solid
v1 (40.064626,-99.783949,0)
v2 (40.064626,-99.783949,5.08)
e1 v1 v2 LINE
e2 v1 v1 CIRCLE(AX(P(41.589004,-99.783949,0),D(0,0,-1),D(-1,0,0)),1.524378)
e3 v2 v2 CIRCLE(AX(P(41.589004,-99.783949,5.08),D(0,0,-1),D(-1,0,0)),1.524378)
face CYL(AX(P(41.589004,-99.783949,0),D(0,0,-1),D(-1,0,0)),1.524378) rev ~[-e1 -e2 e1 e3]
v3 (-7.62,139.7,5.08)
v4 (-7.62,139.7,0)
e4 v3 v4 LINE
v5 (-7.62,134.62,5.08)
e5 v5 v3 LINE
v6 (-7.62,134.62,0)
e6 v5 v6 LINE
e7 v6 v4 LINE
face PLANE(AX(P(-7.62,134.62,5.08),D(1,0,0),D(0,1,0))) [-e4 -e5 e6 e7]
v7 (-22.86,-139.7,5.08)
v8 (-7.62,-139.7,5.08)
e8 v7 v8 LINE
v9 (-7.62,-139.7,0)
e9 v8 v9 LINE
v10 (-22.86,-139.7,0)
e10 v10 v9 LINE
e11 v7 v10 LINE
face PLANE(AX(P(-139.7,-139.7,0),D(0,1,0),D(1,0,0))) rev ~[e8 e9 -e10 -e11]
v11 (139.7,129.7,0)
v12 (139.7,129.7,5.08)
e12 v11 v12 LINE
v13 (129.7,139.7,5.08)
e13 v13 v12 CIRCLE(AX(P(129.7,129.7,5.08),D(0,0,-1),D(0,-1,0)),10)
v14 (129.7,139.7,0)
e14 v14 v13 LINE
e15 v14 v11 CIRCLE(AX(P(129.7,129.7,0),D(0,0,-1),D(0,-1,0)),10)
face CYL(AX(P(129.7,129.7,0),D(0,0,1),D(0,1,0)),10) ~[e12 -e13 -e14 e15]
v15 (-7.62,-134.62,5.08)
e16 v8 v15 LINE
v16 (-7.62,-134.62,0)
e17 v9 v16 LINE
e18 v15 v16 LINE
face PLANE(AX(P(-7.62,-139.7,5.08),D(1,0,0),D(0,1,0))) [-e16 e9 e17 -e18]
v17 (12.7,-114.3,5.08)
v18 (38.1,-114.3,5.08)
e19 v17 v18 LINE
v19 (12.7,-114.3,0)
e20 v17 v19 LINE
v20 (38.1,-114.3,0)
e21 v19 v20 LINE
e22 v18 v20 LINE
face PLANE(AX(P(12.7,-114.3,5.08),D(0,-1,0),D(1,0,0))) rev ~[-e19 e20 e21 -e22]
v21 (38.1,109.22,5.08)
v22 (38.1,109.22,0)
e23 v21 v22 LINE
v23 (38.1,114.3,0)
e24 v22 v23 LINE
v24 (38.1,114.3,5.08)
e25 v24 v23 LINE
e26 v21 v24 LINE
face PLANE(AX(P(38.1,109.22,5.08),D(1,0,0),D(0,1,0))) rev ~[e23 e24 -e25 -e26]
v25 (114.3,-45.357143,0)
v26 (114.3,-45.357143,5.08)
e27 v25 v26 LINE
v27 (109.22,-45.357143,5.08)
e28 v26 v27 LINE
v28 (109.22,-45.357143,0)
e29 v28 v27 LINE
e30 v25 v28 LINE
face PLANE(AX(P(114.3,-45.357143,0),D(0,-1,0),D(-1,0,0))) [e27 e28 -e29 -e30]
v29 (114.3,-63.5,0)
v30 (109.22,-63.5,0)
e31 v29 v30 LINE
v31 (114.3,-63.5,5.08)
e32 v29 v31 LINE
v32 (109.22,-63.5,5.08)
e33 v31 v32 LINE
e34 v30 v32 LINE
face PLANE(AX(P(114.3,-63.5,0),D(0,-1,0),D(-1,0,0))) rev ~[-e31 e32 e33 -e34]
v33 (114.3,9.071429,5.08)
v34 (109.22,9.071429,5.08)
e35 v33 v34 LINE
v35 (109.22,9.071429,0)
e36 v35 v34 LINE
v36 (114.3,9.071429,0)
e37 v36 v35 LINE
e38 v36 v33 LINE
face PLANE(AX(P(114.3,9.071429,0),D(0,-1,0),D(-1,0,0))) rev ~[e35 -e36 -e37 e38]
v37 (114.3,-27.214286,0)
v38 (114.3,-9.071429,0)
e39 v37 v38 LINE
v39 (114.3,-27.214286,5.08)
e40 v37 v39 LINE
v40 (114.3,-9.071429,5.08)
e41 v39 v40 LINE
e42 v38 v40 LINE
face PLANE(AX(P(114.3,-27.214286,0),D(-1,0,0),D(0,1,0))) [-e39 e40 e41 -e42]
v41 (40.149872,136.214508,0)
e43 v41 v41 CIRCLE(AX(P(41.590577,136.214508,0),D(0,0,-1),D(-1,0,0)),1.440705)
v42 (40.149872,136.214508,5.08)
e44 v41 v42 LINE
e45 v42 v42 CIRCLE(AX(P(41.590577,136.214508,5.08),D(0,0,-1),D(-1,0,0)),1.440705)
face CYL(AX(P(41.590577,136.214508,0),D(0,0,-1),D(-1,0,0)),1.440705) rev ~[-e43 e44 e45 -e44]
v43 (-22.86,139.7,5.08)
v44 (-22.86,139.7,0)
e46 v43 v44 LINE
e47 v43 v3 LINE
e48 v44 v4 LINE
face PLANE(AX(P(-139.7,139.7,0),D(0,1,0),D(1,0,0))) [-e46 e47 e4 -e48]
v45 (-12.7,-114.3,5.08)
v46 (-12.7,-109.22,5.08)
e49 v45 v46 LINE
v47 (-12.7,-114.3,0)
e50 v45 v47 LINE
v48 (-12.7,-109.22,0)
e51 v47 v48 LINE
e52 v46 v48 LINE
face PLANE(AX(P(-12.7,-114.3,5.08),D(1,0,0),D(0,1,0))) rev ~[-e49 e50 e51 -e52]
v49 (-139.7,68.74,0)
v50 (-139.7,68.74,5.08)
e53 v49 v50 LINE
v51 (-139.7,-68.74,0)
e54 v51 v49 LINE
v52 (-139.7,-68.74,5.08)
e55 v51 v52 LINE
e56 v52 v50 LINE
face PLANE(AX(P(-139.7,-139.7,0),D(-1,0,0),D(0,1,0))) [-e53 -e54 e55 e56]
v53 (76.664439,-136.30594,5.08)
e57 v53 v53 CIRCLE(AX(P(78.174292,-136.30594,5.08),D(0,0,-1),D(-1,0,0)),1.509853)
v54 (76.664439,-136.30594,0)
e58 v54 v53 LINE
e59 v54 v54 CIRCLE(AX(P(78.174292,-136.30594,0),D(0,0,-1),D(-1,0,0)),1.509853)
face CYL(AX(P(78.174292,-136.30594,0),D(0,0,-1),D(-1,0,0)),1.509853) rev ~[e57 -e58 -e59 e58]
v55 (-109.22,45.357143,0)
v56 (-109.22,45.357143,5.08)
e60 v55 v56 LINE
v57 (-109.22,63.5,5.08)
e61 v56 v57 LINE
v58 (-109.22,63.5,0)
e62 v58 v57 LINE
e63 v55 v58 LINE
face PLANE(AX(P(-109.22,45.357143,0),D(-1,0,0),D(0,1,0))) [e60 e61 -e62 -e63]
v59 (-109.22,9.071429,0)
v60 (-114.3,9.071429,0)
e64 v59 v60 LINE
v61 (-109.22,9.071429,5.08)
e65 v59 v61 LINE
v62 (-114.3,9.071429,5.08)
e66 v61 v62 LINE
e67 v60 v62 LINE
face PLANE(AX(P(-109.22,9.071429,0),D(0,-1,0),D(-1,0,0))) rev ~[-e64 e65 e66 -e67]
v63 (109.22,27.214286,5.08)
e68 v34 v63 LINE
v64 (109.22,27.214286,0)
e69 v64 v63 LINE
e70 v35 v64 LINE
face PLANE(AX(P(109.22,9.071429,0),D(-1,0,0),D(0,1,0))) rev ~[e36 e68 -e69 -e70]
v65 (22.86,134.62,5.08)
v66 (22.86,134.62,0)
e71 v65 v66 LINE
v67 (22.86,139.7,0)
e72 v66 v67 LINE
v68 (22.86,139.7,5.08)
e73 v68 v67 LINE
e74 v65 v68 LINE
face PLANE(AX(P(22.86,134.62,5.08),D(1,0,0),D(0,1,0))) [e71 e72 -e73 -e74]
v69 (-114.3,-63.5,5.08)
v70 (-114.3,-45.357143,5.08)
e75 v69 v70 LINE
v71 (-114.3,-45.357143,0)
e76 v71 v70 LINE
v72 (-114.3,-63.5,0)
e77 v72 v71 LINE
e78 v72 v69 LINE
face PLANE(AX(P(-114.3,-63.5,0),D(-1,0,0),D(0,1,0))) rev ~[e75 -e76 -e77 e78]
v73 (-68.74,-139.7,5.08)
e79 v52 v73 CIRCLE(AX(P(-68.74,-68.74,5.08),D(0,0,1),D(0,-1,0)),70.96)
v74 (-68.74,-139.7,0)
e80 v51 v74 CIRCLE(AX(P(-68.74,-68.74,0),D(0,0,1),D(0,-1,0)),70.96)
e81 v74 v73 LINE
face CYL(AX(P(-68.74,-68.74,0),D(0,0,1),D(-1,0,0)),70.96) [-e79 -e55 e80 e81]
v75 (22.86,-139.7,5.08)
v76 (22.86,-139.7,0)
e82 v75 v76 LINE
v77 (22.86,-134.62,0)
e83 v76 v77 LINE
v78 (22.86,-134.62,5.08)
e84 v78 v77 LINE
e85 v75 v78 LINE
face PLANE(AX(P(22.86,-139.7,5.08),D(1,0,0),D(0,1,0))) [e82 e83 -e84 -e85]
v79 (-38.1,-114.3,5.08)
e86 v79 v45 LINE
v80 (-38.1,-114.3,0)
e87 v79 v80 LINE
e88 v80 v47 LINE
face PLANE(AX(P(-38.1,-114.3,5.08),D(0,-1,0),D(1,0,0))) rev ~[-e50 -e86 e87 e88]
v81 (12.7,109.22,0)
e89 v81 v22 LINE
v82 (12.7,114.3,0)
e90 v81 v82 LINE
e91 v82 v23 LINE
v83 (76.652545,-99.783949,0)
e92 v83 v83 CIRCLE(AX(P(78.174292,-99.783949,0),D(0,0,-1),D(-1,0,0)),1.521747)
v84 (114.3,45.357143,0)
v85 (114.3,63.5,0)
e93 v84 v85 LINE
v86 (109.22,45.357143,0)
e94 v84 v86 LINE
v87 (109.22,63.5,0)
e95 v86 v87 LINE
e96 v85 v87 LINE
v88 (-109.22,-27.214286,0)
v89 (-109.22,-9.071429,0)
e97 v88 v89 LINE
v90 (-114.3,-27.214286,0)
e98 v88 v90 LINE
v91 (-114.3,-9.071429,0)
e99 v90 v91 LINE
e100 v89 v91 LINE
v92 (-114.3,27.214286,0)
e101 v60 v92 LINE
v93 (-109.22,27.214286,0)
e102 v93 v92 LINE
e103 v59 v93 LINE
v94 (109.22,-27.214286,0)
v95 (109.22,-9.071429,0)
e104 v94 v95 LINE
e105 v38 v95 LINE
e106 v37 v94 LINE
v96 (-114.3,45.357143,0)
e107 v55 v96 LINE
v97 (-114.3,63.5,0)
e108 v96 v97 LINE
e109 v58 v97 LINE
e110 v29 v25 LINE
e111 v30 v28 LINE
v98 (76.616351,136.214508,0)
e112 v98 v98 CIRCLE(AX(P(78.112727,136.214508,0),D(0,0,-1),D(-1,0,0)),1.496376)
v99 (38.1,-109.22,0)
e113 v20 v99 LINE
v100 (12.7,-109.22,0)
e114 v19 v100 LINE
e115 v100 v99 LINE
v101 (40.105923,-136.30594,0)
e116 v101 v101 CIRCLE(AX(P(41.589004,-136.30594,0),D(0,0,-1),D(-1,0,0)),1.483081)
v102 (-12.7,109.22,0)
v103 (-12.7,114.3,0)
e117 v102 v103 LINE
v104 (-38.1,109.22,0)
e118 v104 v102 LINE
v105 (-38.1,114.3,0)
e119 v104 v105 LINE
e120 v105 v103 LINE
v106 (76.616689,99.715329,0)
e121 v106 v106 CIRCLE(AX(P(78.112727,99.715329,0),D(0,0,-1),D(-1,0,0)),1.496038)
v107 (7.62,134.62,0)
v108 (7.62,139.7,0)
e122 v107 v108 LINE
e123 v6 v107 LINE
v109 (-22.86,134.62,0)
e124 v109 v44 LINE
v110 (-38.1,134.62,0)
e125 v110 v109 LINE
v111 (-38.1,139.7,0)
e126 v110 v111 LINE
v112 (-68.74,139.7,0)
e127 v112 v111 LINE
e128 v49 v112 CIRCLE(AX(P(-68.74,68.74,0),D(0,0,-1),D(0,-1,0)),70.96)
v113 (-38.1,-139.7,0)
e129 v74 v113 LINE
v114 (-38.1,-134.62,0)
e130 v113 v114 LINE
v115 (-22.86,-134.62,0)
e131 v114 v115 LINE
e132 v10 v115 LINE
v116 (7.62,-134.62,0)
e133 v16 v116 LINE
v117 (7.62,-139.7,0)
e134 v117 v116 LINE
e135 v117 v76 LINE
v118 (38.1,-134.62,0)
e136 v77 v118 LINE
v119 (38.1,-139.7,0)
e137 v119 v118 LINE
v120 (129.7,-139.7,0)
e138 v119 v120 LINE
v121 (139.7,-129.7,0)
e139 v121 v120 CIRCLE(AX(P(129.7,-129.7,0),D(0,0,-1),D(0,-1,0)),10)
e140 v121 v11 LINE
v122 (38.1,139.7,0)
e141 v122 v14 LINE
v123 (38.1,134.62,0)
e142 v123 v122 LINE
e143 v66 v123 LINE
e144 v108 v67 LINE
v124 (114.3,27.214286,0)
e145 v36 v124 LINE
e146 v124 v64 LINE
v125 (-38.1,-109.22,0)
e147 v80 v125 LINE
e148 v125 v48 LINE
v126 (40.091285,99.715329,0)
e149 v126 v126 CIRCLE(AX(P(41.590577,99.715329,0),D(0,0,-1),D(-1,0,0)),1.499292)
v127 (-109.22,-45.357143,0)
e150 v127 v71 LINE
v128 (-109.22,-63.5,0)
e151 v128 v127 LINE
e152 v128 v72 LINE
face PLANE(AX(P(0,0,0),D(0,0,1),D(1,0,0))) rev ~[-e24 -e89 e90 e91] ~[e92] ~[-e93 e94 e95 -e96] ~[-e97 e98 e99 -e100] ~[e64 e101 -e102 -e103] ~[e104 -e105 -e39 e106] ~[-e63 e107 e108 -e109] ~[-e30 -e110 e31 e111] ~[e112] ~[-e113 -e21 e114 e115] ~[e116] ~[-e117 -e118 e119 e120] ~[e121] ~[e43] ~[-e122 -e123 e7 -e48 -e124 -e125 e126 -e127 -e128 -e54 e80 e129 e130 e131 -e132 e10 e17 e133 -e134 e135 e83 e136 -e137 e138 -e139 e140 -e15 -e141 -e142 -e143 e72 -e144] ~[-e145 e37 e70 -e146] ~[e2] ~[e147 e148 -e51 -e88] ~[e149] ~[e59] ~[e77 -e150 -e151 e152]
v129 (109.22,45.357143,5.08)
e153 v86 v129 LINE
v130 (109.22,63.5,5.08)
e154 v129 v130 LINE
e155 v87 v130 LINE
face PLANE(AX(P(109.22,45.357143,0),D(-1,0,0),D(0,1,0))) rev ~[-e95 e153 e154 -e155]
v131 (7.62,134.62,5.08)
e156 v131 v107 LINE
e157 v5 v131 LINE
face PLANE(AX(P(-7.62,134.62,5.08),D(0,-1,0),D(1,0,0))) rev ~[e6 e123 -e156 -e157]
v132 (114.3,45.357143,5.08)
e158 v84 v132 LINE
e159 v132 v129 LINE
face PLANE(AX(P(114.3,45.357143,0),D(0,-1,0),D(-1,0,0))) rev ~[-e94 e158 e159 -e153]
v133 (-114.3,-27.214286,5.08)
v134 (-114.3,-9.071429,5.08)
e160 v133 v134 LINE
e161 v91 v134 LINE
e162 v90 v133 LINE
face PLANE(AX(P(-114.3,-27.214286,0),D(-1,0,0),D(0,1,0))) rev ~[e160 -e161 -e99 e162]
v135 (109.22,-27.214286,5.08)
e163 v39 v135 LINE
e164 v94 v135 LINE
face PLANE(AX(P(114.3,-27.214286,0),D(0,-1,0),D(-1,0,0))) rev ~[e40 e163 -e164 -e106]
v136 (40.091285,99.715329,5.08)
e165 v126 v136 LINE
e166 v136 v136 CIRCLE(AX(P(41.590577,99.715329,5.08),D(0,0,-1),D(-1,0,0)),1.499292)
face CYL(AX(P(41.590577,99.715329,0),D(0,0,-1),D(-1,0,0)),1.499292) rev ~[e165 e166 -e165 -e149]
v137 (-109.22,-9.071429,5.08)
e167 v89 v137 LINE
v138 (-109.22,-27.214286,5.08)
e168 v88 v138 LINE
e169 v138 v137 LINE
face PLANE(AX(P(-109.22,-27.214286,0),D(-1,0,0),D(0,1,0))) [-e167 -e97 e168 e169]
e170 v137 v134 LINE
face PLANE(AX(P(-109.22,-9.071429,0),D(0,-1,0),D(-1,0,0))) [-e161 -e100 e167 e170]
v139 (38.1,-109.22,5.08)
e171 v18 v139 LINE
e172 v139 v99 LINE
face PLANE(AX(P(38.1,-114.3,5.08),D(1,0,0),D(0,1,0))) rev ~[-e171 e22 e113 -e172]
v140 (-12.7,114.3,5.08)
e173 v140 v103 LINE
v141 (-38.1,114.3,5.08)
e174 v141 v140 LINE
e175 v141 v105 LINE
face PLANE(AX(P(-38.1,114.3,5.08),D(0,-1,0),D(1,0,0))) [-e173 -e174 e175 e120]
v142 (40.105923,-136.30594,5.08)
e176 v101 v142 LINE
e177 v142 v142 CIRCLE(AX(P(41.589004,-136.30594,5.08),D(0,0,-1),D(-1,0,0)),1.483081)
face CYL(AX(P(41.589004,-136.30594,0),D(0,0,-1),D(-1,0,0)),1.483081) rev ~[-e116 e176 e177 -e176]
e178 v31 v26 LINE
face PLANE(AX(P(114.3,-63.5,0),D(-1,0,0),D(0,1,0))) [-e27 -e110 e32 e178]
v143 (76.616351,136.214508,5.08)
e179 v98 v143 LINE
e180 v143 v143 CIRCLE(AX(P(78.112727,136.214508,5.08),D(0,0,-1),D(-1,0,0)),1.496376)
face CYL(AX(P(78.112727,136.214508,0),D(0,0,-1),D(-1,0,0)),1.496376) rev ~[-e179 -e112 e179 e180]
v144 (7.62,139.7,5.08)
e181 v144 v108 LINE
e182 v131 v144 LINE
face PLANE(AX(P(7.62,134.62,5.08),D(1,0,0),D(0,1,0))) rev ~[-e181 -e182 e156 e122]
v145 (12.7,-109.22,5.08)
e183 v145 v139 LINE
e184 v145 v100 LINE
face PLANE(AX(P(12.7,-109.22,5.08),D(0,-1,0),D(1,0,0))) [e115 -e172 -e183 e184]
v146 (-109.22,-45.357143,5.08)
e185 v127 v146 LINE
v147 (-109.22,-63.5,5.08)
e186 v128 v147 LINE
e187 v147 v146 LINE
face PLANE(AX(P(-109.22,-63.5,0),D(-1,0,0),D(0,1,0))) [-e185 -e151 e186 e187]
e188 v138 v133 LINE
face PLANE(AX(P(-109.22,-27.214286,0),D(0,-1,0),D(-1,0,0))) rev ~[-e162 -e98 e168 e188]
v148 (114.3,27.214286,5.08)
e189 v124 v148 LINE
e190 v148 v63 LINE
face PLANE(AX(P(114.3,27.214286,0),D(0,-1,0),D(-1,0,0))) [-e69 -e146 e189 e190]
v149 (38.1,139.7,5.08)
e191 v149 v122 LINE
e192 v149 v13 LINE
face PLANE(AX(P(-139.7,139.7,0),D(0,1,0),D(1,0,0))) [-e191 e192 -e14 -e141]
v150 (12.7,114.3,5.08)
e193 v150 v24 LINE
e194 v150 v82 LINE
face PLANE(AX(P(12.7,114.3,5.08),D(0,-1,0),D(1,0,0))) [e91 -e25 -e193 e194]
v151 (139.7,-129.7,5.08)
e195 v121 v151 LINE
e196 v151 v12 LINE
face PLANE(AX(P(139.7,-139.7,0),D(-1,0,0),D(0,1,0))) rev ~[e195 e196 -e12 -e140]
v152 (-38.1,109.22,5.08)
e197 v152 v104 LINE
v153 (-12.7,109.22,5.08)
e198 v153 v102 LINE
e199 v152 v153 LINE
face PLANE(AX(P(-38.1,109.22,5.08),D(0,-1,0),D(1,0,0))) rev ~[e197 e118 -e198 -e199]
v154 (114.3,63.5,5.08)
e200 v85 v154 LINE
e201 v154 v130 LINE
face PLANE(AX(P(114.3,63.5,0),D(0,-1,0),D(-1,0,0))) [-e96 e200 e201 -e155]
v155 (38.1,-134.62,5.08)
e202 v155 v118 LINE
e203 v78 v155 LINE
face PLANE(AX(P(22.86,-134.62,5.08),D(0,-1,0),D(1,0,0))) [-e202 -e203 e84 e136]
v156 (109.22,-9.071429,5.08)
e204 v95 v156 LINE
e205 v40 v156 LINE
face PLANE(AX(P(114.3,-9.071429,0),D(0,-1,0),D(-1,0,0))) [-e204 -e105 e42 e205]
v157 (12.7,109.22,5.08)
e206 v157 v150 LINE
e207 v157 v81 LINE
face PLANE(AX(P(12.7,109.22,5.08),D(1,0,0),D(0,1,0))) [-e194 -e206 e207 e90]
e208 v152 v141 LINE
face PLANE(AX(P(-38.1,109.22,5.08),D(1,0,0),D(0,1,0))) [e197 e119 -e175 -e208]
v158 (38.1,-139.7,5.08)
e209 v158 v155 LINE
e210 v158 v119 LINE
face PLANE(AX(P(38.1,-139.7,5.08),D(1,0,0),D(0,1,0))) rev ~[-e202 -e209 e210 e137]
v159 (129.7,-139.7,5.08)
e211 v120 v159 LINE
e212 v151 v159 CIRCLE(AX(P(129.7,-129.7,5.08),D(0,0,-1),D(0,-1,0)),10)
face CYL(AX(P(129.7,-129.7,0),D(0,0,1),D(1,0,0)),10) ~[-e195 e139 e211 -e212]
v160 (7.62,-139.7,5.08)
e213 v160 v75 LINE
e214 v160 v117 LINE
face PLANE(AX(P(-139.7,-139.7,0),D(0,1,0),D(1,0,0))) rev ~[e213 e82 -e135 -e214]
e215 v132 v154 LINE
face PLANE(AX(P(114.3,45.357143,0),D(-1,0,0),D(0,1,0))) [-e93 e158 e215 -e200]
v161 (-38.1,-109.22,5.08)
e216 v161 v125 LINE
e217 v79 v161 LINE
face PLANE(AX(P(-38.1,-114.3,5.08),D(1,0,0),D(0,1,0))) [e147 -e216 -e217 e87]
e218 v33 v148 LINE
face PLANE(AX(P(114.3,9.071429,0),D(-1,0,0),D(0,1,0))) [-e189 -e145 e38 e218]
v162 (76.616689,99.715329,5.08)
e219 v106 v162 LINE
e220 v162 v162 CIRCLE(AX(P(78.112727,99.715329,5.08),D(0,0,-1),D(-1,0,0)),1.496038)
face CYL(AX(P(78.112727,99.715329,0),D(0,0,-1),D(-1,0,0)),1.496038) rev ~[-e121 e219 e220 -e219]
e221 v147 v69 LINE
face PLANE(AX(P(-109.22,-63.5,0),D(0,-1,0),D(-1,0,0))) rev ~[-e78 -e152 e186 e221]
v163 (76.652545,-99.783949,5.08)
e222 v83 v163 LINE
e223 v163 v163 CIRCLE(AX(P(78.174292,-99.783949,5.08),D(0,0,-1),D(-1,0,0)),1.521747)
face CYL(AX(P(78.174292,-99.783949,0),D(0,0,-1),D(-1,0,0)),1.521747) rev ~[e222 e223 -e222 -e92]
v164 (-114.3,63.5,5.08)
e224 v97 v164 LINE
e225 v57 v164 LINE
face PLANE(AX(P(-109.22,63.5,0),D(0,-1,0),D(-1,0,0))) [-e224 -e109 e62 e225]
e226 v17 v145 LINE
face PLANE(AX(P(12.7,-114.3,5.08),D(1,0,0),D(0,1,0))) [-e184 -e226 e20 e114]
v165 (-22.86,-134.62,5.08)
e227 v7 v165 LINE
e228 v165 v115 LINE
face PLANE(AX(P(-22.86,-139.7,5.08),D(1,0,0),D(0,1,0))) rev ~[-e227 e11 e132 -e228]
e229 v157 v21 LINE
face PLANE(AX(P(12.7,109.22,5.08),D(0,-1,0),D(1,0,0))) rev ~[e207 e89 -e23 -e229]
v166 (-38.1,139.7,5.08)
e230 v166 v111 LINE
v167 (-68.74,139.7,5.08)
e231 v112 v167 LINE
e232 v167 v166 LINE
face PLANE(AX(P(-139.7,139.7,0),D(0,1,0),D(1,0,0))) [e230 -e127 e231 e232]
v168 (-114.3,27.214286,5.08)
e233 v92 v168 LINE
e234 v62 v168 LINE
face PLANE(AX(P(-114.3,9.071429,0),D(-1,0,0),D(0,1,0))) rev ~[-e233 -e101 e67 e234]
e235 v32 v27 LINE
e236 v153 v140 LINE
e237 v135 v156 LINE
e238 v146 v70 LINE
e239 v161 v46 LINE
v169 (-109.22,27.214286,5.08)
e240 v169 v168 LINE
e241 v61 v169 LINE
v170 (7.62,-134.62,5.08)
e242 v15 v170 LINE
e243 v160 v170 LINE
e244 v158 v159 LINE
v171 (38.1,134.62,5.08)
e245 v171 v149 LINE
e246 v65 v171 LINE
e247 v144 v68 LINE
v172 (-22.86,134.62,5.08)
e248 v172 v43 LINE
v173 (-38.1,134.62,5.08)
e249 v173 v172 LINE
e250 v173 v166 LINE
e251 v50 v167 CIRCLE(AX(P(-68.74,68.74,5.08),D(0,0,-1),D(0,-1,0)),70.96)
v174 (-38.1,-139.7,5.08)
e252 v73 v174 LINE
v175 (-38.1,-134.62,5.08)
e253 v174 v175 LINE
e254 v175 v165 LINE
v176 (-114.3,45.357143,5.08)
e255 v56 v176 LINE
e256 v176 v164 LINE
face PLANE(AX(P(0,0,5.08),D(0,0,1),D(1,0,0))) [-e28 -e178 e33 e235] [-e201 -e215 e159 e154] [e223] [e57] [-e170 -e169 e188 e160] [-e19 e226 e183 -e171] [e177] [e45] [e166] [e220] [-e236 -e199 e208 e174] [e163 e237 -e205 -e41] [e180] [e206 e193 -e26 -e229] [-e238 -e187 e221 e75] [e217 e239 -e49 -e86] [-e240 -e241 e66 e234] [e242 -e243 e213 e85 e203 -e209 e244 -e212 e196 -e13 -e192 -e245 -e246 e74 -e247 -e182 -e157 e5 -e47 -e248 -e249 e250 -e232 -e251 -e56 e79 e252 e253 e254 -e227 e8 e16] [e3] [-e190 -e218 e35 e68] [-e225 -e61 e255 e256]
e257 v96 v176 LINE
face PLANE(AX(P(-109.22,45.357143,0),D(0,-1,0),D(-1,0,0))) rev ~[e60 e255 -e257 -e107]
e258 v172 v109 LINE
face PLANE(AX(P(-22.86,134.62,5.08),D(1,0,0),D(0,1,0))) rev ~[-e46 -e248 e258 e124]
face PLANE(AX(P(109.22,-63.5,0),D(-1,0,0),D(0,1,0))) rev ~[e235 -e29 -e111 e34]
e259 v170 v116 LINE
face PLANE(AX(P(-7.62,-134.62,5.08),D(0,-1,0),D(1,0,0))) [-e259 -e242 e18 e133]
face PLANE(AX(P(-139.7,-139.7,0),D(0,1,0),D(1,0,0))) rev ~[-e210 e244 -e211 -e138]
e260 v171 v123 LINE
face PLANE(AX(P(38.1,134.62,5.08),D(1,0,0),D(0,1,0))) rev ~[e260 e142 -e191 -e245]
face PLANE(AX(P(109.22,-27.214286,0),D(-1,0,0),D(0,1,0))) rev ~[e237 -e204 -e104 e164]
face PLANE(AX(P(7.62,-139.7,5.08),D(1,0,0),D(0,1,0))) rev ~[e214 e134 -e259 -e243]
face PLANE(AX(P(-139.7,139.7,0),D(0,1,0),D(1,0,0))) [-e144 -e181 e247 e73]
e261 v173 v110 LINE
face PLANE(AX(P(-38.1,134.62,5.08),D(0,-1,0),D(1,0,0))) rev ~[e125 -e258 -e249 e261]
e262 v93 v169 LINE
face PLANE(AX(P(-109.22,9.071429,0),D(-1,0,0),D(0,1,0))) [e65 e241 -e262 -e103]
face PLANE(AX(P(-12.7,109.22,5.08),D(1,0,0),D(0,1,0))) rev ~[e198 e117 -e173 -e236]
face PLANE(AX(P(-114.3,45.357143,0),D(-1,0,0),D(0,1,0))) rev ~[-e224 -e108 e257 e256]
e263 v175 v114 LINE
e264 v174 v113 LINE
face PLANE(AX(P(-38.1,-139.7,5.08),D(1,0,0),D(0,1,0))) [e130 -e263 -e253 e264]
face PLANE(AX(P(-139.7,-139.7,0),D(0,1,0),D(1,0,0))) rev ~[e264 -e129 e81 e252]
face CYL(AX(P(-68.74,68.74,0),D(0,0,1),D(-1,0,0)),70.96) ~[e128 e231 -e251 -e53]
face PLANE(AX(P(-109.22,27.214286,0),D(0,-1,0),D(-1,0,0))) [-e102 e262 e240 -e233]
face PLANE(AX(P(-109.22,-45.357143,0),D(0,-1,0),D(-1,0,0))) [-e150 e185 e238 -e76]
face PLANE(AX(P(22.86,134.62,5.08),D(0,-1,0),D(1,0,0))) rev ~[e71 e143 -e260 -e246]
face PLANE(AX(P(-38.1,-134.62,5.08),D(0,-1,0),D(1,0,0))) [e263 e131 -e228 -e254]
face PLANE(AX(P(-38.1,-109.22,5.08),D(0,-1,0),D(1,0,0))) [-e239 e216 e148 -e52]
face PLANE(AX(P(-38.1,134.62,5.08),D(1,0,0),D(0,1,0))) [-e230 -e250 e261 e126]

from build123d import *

# Parameters (mm, degrees)
SKETCH1_W           = 279.4
SKETCH1_H           = 279.4
BOSS_EXTRUDE1_DEPTH = 5.08
FILLET1_R           = 70.96
FILLET2_R           = 70.960000066
FILLET3_R           = 10
FILLET4_R           = 10
SKETCH2_W           = 25.4
SKETCH2_H           = 5.08
CUT_EXTRUDE1_DEPTH  = 7.62
SKETCH3_W           = 15.24
SKETCH3_H           = 5.08
CUT_EXTRUDE2_DEPTH  = 5.08
SKETCH4_W           = 25.4
SKETCH4_H           = 5.08
SKETCH4_W_2         = 15.24
CUT_EXTRUDE3_DEPTH  = 5.08
SKETCH5_W           = 5.08
SKETCH5_H           = 18.142857143
CUT_EXTRUDE4_DEPTH  = 5.08
SKETCH9_R           = 1.521747373
SKETCH9_R_2         = 1.52437788
SKETCH9_R_3         = 1.483080804
SKETCH9_R_4         = 1.509853377
CUT_EXTRUDE5_DEPTH  = 5.08
SKETCH10_R          = 1.496375704
SKETCH10_R_2        = 1.496038234
SKETCH10_R_3        = 1.499292219
SKETCH10_R_4        = 1.440705467
CUT_EXTRUDE6_DEPTH  = 5.08


with BuildPart() as part:
    # Sketch1 → Boss-Extrude1 (new body)
    with BuildSketch(Plane.XY):
        Rectangle(SKETCH1_W, SKETCH1_H)
    extrude(amount=BOSS_EXTRUDE1_DEPTH)

    # Fillet1
    fillet1_edges = [part.edges().sort_by_distance(p)[0] for p in [
        (-139.7, 139.7, 2.54),
    ]]
    fillet(fillet1_edges, radius=FILLET1_R)

    # Fillet2
    fillet2_edges = [part.edges().sort_by_distance(p)[0] for p in [
        (-139.7, -139.7, 2.54),
    ]]
    fillet(fillet2_edges, radius=FILLET2_R)

    # Fillet3
    fillet3_edges = [part.edges().sort_by_distance(p)[0] for p in [
        (139.7, 139.7, 2.54),
    ]]
    fillet(fillet3_edges, radius=FILLET3_R)

    # Fillet4
    fillet4_edges = [part.edges().sort_by_distance(p)[0] for p in [
        (139.7, -139.7, 2.54),
    ]]
    fillet(fillet4_edges, radius=FILLET4_R)

    # Sketch2 → Cut-Extrude1 (cut)
    with BuildSketch(Plane.XY.offset(5.08)):
        with Locations((-25.4, -111.76)):
            Rectangle(SKETCH2_W, SKETCH2_H)
        with Locations((25.4, -111.76)):
            Rectangle(SKETCH2_W, SKETCH2_H)
    extrude(amount=-CUT_EXTRUDE1_DEPTH, mode=Mode.SUBTRACT)

    # Sketch3 → Cut-Extrude2 (cut)
    with BuildSketch(Plane.XY.offset(5.08)):
        with Locations((-30.48, -137.16)):
            Rectangle(SKETCH3_W, SKETCH3_H)
        with Locations((0, -137.16)):
            Rectangle(SKETCH3_W, SKETCH3_H)
        with Locations((30.48, -137.16)):
            Rectangle(SKETCH3_W, SKETCH3_H)
    extrude(amount=-CUT_EXTRUDE2_DEPTH, mode=Mode.SUBTRACT)

    # Sketch4 → Cut-Extrude3 (cut)
    with BuildSketch(Plane.XY.offset(5.08)):
        with Locations((-25.4, 111.76)):
            Rectangle(SKETCH4_W, SKETCH4_H)
        with Locations((25.4, 111.76)):
            Rectangle(SKETCH4_W, SKETCH4_H)
        with Locations((-30.48, 137.16)):
            Rectangle(SKETCH4_W_2, SKETCH4_H)
        with Locations((0, 137.16)):
            Rectangle(SKETCH4_W_2, SKETCH4_H)
        with Locations((30.48, 137.16)):
            Rectangle(SKETCH4_W_2, SKETCH4_H)
    extrude(amount=-CUT_EXTRUDE3_DEPTH, mode=Mode.SUBTRACT)

    # Sketch5 → Cut-Extrude4 (cut)
    with BuildSketch(Plane(origin=(0, 0, 0), x_dir=(-1, 0, 0), z_dir=(0, 0, -1))):
        with Locations((111.76, -54.428571429)):
            Rectangle(SKETCH5_W, SKETCH5_H)
        with Locations((111.76, -18.142857143)):
            Rectangle(SKETCH5_W, SKETCH5_H)
        with Locations((111.76, 18.142857143)):
            Rectangle(SKETCH5_W, SKETCH5_H)
        with Locations((111.76, 54.428571429)):
            Rectangle(SKETCH5_W, SKETCH5_H)
        with Locations((-111.76, -54.428571429)):
            Rectangle(SKETCH5_W, SKETCH5_H)
        with Locations((-111.76, -18.142857143)):
            Rectangle(SKETCH5_W, SKETCH5_H)
        with Locations((-111.76, 18.142857143)):
            Rectangle(SKETCH5_W, SKETCH5_H)
        with Locations((-111.76, 54.428571429)):
            Rectangle(SKETCH5_W, SKETCH5_H)
    extrude(amount=-CUT_EXTRUDE4_DEPTH, mode=Mode.SUBTRACT)

    # Sketch9 → Cut-Extrude5 (cut)
    with BuildSketch(Plane(origin=(0, 0, 0), x_dir=(-1, 0, 0), z_dir=(0, 0, -1))):
        with Locations((-78.174292247, -99.783948619)):
            Circle(SKETCH9_R)
        with Locations((-41.5890041, -99.783948619)):
            Circle(SKETCH9_R_2)
        with Locations((-41.5890041, -136.30594042)):
            Circle(SKETCH9_R_3)
        with Locations((-78.174292247, -136.30594042)):
            Circle(SKETCH9_R_4)
    extrude(amount=-CUT_EXTRUDE5_DEPTH, mode=Mode.SUBTRACT)

    # Sketch10 → Cut-Extrude6 (cut)
    with BuildSketch(Plane(origin=(0, 0, 0), x_dir=(-1, 0, 0), z_dir=(0, 0, -1))):
        with Locations((-78.112727159, 136.214508439)):
            Circle(SKETCH10_R)
        with Locations((-78.112727159, 99.715329187)):
            Circle(SKETCH10_R_2)
        with Locations((-41.590577287, 99.715329187)):
            Circle(SKETCH10_R_3)
        with Locations((-41.590577287, 136.214508439)):
            Circle(SKETCH10_R_4)
    extrude(amount=-CUT_EXTRUDE6_DEPTH, mode=Mode.SUBTRACT)


solid = part.part
